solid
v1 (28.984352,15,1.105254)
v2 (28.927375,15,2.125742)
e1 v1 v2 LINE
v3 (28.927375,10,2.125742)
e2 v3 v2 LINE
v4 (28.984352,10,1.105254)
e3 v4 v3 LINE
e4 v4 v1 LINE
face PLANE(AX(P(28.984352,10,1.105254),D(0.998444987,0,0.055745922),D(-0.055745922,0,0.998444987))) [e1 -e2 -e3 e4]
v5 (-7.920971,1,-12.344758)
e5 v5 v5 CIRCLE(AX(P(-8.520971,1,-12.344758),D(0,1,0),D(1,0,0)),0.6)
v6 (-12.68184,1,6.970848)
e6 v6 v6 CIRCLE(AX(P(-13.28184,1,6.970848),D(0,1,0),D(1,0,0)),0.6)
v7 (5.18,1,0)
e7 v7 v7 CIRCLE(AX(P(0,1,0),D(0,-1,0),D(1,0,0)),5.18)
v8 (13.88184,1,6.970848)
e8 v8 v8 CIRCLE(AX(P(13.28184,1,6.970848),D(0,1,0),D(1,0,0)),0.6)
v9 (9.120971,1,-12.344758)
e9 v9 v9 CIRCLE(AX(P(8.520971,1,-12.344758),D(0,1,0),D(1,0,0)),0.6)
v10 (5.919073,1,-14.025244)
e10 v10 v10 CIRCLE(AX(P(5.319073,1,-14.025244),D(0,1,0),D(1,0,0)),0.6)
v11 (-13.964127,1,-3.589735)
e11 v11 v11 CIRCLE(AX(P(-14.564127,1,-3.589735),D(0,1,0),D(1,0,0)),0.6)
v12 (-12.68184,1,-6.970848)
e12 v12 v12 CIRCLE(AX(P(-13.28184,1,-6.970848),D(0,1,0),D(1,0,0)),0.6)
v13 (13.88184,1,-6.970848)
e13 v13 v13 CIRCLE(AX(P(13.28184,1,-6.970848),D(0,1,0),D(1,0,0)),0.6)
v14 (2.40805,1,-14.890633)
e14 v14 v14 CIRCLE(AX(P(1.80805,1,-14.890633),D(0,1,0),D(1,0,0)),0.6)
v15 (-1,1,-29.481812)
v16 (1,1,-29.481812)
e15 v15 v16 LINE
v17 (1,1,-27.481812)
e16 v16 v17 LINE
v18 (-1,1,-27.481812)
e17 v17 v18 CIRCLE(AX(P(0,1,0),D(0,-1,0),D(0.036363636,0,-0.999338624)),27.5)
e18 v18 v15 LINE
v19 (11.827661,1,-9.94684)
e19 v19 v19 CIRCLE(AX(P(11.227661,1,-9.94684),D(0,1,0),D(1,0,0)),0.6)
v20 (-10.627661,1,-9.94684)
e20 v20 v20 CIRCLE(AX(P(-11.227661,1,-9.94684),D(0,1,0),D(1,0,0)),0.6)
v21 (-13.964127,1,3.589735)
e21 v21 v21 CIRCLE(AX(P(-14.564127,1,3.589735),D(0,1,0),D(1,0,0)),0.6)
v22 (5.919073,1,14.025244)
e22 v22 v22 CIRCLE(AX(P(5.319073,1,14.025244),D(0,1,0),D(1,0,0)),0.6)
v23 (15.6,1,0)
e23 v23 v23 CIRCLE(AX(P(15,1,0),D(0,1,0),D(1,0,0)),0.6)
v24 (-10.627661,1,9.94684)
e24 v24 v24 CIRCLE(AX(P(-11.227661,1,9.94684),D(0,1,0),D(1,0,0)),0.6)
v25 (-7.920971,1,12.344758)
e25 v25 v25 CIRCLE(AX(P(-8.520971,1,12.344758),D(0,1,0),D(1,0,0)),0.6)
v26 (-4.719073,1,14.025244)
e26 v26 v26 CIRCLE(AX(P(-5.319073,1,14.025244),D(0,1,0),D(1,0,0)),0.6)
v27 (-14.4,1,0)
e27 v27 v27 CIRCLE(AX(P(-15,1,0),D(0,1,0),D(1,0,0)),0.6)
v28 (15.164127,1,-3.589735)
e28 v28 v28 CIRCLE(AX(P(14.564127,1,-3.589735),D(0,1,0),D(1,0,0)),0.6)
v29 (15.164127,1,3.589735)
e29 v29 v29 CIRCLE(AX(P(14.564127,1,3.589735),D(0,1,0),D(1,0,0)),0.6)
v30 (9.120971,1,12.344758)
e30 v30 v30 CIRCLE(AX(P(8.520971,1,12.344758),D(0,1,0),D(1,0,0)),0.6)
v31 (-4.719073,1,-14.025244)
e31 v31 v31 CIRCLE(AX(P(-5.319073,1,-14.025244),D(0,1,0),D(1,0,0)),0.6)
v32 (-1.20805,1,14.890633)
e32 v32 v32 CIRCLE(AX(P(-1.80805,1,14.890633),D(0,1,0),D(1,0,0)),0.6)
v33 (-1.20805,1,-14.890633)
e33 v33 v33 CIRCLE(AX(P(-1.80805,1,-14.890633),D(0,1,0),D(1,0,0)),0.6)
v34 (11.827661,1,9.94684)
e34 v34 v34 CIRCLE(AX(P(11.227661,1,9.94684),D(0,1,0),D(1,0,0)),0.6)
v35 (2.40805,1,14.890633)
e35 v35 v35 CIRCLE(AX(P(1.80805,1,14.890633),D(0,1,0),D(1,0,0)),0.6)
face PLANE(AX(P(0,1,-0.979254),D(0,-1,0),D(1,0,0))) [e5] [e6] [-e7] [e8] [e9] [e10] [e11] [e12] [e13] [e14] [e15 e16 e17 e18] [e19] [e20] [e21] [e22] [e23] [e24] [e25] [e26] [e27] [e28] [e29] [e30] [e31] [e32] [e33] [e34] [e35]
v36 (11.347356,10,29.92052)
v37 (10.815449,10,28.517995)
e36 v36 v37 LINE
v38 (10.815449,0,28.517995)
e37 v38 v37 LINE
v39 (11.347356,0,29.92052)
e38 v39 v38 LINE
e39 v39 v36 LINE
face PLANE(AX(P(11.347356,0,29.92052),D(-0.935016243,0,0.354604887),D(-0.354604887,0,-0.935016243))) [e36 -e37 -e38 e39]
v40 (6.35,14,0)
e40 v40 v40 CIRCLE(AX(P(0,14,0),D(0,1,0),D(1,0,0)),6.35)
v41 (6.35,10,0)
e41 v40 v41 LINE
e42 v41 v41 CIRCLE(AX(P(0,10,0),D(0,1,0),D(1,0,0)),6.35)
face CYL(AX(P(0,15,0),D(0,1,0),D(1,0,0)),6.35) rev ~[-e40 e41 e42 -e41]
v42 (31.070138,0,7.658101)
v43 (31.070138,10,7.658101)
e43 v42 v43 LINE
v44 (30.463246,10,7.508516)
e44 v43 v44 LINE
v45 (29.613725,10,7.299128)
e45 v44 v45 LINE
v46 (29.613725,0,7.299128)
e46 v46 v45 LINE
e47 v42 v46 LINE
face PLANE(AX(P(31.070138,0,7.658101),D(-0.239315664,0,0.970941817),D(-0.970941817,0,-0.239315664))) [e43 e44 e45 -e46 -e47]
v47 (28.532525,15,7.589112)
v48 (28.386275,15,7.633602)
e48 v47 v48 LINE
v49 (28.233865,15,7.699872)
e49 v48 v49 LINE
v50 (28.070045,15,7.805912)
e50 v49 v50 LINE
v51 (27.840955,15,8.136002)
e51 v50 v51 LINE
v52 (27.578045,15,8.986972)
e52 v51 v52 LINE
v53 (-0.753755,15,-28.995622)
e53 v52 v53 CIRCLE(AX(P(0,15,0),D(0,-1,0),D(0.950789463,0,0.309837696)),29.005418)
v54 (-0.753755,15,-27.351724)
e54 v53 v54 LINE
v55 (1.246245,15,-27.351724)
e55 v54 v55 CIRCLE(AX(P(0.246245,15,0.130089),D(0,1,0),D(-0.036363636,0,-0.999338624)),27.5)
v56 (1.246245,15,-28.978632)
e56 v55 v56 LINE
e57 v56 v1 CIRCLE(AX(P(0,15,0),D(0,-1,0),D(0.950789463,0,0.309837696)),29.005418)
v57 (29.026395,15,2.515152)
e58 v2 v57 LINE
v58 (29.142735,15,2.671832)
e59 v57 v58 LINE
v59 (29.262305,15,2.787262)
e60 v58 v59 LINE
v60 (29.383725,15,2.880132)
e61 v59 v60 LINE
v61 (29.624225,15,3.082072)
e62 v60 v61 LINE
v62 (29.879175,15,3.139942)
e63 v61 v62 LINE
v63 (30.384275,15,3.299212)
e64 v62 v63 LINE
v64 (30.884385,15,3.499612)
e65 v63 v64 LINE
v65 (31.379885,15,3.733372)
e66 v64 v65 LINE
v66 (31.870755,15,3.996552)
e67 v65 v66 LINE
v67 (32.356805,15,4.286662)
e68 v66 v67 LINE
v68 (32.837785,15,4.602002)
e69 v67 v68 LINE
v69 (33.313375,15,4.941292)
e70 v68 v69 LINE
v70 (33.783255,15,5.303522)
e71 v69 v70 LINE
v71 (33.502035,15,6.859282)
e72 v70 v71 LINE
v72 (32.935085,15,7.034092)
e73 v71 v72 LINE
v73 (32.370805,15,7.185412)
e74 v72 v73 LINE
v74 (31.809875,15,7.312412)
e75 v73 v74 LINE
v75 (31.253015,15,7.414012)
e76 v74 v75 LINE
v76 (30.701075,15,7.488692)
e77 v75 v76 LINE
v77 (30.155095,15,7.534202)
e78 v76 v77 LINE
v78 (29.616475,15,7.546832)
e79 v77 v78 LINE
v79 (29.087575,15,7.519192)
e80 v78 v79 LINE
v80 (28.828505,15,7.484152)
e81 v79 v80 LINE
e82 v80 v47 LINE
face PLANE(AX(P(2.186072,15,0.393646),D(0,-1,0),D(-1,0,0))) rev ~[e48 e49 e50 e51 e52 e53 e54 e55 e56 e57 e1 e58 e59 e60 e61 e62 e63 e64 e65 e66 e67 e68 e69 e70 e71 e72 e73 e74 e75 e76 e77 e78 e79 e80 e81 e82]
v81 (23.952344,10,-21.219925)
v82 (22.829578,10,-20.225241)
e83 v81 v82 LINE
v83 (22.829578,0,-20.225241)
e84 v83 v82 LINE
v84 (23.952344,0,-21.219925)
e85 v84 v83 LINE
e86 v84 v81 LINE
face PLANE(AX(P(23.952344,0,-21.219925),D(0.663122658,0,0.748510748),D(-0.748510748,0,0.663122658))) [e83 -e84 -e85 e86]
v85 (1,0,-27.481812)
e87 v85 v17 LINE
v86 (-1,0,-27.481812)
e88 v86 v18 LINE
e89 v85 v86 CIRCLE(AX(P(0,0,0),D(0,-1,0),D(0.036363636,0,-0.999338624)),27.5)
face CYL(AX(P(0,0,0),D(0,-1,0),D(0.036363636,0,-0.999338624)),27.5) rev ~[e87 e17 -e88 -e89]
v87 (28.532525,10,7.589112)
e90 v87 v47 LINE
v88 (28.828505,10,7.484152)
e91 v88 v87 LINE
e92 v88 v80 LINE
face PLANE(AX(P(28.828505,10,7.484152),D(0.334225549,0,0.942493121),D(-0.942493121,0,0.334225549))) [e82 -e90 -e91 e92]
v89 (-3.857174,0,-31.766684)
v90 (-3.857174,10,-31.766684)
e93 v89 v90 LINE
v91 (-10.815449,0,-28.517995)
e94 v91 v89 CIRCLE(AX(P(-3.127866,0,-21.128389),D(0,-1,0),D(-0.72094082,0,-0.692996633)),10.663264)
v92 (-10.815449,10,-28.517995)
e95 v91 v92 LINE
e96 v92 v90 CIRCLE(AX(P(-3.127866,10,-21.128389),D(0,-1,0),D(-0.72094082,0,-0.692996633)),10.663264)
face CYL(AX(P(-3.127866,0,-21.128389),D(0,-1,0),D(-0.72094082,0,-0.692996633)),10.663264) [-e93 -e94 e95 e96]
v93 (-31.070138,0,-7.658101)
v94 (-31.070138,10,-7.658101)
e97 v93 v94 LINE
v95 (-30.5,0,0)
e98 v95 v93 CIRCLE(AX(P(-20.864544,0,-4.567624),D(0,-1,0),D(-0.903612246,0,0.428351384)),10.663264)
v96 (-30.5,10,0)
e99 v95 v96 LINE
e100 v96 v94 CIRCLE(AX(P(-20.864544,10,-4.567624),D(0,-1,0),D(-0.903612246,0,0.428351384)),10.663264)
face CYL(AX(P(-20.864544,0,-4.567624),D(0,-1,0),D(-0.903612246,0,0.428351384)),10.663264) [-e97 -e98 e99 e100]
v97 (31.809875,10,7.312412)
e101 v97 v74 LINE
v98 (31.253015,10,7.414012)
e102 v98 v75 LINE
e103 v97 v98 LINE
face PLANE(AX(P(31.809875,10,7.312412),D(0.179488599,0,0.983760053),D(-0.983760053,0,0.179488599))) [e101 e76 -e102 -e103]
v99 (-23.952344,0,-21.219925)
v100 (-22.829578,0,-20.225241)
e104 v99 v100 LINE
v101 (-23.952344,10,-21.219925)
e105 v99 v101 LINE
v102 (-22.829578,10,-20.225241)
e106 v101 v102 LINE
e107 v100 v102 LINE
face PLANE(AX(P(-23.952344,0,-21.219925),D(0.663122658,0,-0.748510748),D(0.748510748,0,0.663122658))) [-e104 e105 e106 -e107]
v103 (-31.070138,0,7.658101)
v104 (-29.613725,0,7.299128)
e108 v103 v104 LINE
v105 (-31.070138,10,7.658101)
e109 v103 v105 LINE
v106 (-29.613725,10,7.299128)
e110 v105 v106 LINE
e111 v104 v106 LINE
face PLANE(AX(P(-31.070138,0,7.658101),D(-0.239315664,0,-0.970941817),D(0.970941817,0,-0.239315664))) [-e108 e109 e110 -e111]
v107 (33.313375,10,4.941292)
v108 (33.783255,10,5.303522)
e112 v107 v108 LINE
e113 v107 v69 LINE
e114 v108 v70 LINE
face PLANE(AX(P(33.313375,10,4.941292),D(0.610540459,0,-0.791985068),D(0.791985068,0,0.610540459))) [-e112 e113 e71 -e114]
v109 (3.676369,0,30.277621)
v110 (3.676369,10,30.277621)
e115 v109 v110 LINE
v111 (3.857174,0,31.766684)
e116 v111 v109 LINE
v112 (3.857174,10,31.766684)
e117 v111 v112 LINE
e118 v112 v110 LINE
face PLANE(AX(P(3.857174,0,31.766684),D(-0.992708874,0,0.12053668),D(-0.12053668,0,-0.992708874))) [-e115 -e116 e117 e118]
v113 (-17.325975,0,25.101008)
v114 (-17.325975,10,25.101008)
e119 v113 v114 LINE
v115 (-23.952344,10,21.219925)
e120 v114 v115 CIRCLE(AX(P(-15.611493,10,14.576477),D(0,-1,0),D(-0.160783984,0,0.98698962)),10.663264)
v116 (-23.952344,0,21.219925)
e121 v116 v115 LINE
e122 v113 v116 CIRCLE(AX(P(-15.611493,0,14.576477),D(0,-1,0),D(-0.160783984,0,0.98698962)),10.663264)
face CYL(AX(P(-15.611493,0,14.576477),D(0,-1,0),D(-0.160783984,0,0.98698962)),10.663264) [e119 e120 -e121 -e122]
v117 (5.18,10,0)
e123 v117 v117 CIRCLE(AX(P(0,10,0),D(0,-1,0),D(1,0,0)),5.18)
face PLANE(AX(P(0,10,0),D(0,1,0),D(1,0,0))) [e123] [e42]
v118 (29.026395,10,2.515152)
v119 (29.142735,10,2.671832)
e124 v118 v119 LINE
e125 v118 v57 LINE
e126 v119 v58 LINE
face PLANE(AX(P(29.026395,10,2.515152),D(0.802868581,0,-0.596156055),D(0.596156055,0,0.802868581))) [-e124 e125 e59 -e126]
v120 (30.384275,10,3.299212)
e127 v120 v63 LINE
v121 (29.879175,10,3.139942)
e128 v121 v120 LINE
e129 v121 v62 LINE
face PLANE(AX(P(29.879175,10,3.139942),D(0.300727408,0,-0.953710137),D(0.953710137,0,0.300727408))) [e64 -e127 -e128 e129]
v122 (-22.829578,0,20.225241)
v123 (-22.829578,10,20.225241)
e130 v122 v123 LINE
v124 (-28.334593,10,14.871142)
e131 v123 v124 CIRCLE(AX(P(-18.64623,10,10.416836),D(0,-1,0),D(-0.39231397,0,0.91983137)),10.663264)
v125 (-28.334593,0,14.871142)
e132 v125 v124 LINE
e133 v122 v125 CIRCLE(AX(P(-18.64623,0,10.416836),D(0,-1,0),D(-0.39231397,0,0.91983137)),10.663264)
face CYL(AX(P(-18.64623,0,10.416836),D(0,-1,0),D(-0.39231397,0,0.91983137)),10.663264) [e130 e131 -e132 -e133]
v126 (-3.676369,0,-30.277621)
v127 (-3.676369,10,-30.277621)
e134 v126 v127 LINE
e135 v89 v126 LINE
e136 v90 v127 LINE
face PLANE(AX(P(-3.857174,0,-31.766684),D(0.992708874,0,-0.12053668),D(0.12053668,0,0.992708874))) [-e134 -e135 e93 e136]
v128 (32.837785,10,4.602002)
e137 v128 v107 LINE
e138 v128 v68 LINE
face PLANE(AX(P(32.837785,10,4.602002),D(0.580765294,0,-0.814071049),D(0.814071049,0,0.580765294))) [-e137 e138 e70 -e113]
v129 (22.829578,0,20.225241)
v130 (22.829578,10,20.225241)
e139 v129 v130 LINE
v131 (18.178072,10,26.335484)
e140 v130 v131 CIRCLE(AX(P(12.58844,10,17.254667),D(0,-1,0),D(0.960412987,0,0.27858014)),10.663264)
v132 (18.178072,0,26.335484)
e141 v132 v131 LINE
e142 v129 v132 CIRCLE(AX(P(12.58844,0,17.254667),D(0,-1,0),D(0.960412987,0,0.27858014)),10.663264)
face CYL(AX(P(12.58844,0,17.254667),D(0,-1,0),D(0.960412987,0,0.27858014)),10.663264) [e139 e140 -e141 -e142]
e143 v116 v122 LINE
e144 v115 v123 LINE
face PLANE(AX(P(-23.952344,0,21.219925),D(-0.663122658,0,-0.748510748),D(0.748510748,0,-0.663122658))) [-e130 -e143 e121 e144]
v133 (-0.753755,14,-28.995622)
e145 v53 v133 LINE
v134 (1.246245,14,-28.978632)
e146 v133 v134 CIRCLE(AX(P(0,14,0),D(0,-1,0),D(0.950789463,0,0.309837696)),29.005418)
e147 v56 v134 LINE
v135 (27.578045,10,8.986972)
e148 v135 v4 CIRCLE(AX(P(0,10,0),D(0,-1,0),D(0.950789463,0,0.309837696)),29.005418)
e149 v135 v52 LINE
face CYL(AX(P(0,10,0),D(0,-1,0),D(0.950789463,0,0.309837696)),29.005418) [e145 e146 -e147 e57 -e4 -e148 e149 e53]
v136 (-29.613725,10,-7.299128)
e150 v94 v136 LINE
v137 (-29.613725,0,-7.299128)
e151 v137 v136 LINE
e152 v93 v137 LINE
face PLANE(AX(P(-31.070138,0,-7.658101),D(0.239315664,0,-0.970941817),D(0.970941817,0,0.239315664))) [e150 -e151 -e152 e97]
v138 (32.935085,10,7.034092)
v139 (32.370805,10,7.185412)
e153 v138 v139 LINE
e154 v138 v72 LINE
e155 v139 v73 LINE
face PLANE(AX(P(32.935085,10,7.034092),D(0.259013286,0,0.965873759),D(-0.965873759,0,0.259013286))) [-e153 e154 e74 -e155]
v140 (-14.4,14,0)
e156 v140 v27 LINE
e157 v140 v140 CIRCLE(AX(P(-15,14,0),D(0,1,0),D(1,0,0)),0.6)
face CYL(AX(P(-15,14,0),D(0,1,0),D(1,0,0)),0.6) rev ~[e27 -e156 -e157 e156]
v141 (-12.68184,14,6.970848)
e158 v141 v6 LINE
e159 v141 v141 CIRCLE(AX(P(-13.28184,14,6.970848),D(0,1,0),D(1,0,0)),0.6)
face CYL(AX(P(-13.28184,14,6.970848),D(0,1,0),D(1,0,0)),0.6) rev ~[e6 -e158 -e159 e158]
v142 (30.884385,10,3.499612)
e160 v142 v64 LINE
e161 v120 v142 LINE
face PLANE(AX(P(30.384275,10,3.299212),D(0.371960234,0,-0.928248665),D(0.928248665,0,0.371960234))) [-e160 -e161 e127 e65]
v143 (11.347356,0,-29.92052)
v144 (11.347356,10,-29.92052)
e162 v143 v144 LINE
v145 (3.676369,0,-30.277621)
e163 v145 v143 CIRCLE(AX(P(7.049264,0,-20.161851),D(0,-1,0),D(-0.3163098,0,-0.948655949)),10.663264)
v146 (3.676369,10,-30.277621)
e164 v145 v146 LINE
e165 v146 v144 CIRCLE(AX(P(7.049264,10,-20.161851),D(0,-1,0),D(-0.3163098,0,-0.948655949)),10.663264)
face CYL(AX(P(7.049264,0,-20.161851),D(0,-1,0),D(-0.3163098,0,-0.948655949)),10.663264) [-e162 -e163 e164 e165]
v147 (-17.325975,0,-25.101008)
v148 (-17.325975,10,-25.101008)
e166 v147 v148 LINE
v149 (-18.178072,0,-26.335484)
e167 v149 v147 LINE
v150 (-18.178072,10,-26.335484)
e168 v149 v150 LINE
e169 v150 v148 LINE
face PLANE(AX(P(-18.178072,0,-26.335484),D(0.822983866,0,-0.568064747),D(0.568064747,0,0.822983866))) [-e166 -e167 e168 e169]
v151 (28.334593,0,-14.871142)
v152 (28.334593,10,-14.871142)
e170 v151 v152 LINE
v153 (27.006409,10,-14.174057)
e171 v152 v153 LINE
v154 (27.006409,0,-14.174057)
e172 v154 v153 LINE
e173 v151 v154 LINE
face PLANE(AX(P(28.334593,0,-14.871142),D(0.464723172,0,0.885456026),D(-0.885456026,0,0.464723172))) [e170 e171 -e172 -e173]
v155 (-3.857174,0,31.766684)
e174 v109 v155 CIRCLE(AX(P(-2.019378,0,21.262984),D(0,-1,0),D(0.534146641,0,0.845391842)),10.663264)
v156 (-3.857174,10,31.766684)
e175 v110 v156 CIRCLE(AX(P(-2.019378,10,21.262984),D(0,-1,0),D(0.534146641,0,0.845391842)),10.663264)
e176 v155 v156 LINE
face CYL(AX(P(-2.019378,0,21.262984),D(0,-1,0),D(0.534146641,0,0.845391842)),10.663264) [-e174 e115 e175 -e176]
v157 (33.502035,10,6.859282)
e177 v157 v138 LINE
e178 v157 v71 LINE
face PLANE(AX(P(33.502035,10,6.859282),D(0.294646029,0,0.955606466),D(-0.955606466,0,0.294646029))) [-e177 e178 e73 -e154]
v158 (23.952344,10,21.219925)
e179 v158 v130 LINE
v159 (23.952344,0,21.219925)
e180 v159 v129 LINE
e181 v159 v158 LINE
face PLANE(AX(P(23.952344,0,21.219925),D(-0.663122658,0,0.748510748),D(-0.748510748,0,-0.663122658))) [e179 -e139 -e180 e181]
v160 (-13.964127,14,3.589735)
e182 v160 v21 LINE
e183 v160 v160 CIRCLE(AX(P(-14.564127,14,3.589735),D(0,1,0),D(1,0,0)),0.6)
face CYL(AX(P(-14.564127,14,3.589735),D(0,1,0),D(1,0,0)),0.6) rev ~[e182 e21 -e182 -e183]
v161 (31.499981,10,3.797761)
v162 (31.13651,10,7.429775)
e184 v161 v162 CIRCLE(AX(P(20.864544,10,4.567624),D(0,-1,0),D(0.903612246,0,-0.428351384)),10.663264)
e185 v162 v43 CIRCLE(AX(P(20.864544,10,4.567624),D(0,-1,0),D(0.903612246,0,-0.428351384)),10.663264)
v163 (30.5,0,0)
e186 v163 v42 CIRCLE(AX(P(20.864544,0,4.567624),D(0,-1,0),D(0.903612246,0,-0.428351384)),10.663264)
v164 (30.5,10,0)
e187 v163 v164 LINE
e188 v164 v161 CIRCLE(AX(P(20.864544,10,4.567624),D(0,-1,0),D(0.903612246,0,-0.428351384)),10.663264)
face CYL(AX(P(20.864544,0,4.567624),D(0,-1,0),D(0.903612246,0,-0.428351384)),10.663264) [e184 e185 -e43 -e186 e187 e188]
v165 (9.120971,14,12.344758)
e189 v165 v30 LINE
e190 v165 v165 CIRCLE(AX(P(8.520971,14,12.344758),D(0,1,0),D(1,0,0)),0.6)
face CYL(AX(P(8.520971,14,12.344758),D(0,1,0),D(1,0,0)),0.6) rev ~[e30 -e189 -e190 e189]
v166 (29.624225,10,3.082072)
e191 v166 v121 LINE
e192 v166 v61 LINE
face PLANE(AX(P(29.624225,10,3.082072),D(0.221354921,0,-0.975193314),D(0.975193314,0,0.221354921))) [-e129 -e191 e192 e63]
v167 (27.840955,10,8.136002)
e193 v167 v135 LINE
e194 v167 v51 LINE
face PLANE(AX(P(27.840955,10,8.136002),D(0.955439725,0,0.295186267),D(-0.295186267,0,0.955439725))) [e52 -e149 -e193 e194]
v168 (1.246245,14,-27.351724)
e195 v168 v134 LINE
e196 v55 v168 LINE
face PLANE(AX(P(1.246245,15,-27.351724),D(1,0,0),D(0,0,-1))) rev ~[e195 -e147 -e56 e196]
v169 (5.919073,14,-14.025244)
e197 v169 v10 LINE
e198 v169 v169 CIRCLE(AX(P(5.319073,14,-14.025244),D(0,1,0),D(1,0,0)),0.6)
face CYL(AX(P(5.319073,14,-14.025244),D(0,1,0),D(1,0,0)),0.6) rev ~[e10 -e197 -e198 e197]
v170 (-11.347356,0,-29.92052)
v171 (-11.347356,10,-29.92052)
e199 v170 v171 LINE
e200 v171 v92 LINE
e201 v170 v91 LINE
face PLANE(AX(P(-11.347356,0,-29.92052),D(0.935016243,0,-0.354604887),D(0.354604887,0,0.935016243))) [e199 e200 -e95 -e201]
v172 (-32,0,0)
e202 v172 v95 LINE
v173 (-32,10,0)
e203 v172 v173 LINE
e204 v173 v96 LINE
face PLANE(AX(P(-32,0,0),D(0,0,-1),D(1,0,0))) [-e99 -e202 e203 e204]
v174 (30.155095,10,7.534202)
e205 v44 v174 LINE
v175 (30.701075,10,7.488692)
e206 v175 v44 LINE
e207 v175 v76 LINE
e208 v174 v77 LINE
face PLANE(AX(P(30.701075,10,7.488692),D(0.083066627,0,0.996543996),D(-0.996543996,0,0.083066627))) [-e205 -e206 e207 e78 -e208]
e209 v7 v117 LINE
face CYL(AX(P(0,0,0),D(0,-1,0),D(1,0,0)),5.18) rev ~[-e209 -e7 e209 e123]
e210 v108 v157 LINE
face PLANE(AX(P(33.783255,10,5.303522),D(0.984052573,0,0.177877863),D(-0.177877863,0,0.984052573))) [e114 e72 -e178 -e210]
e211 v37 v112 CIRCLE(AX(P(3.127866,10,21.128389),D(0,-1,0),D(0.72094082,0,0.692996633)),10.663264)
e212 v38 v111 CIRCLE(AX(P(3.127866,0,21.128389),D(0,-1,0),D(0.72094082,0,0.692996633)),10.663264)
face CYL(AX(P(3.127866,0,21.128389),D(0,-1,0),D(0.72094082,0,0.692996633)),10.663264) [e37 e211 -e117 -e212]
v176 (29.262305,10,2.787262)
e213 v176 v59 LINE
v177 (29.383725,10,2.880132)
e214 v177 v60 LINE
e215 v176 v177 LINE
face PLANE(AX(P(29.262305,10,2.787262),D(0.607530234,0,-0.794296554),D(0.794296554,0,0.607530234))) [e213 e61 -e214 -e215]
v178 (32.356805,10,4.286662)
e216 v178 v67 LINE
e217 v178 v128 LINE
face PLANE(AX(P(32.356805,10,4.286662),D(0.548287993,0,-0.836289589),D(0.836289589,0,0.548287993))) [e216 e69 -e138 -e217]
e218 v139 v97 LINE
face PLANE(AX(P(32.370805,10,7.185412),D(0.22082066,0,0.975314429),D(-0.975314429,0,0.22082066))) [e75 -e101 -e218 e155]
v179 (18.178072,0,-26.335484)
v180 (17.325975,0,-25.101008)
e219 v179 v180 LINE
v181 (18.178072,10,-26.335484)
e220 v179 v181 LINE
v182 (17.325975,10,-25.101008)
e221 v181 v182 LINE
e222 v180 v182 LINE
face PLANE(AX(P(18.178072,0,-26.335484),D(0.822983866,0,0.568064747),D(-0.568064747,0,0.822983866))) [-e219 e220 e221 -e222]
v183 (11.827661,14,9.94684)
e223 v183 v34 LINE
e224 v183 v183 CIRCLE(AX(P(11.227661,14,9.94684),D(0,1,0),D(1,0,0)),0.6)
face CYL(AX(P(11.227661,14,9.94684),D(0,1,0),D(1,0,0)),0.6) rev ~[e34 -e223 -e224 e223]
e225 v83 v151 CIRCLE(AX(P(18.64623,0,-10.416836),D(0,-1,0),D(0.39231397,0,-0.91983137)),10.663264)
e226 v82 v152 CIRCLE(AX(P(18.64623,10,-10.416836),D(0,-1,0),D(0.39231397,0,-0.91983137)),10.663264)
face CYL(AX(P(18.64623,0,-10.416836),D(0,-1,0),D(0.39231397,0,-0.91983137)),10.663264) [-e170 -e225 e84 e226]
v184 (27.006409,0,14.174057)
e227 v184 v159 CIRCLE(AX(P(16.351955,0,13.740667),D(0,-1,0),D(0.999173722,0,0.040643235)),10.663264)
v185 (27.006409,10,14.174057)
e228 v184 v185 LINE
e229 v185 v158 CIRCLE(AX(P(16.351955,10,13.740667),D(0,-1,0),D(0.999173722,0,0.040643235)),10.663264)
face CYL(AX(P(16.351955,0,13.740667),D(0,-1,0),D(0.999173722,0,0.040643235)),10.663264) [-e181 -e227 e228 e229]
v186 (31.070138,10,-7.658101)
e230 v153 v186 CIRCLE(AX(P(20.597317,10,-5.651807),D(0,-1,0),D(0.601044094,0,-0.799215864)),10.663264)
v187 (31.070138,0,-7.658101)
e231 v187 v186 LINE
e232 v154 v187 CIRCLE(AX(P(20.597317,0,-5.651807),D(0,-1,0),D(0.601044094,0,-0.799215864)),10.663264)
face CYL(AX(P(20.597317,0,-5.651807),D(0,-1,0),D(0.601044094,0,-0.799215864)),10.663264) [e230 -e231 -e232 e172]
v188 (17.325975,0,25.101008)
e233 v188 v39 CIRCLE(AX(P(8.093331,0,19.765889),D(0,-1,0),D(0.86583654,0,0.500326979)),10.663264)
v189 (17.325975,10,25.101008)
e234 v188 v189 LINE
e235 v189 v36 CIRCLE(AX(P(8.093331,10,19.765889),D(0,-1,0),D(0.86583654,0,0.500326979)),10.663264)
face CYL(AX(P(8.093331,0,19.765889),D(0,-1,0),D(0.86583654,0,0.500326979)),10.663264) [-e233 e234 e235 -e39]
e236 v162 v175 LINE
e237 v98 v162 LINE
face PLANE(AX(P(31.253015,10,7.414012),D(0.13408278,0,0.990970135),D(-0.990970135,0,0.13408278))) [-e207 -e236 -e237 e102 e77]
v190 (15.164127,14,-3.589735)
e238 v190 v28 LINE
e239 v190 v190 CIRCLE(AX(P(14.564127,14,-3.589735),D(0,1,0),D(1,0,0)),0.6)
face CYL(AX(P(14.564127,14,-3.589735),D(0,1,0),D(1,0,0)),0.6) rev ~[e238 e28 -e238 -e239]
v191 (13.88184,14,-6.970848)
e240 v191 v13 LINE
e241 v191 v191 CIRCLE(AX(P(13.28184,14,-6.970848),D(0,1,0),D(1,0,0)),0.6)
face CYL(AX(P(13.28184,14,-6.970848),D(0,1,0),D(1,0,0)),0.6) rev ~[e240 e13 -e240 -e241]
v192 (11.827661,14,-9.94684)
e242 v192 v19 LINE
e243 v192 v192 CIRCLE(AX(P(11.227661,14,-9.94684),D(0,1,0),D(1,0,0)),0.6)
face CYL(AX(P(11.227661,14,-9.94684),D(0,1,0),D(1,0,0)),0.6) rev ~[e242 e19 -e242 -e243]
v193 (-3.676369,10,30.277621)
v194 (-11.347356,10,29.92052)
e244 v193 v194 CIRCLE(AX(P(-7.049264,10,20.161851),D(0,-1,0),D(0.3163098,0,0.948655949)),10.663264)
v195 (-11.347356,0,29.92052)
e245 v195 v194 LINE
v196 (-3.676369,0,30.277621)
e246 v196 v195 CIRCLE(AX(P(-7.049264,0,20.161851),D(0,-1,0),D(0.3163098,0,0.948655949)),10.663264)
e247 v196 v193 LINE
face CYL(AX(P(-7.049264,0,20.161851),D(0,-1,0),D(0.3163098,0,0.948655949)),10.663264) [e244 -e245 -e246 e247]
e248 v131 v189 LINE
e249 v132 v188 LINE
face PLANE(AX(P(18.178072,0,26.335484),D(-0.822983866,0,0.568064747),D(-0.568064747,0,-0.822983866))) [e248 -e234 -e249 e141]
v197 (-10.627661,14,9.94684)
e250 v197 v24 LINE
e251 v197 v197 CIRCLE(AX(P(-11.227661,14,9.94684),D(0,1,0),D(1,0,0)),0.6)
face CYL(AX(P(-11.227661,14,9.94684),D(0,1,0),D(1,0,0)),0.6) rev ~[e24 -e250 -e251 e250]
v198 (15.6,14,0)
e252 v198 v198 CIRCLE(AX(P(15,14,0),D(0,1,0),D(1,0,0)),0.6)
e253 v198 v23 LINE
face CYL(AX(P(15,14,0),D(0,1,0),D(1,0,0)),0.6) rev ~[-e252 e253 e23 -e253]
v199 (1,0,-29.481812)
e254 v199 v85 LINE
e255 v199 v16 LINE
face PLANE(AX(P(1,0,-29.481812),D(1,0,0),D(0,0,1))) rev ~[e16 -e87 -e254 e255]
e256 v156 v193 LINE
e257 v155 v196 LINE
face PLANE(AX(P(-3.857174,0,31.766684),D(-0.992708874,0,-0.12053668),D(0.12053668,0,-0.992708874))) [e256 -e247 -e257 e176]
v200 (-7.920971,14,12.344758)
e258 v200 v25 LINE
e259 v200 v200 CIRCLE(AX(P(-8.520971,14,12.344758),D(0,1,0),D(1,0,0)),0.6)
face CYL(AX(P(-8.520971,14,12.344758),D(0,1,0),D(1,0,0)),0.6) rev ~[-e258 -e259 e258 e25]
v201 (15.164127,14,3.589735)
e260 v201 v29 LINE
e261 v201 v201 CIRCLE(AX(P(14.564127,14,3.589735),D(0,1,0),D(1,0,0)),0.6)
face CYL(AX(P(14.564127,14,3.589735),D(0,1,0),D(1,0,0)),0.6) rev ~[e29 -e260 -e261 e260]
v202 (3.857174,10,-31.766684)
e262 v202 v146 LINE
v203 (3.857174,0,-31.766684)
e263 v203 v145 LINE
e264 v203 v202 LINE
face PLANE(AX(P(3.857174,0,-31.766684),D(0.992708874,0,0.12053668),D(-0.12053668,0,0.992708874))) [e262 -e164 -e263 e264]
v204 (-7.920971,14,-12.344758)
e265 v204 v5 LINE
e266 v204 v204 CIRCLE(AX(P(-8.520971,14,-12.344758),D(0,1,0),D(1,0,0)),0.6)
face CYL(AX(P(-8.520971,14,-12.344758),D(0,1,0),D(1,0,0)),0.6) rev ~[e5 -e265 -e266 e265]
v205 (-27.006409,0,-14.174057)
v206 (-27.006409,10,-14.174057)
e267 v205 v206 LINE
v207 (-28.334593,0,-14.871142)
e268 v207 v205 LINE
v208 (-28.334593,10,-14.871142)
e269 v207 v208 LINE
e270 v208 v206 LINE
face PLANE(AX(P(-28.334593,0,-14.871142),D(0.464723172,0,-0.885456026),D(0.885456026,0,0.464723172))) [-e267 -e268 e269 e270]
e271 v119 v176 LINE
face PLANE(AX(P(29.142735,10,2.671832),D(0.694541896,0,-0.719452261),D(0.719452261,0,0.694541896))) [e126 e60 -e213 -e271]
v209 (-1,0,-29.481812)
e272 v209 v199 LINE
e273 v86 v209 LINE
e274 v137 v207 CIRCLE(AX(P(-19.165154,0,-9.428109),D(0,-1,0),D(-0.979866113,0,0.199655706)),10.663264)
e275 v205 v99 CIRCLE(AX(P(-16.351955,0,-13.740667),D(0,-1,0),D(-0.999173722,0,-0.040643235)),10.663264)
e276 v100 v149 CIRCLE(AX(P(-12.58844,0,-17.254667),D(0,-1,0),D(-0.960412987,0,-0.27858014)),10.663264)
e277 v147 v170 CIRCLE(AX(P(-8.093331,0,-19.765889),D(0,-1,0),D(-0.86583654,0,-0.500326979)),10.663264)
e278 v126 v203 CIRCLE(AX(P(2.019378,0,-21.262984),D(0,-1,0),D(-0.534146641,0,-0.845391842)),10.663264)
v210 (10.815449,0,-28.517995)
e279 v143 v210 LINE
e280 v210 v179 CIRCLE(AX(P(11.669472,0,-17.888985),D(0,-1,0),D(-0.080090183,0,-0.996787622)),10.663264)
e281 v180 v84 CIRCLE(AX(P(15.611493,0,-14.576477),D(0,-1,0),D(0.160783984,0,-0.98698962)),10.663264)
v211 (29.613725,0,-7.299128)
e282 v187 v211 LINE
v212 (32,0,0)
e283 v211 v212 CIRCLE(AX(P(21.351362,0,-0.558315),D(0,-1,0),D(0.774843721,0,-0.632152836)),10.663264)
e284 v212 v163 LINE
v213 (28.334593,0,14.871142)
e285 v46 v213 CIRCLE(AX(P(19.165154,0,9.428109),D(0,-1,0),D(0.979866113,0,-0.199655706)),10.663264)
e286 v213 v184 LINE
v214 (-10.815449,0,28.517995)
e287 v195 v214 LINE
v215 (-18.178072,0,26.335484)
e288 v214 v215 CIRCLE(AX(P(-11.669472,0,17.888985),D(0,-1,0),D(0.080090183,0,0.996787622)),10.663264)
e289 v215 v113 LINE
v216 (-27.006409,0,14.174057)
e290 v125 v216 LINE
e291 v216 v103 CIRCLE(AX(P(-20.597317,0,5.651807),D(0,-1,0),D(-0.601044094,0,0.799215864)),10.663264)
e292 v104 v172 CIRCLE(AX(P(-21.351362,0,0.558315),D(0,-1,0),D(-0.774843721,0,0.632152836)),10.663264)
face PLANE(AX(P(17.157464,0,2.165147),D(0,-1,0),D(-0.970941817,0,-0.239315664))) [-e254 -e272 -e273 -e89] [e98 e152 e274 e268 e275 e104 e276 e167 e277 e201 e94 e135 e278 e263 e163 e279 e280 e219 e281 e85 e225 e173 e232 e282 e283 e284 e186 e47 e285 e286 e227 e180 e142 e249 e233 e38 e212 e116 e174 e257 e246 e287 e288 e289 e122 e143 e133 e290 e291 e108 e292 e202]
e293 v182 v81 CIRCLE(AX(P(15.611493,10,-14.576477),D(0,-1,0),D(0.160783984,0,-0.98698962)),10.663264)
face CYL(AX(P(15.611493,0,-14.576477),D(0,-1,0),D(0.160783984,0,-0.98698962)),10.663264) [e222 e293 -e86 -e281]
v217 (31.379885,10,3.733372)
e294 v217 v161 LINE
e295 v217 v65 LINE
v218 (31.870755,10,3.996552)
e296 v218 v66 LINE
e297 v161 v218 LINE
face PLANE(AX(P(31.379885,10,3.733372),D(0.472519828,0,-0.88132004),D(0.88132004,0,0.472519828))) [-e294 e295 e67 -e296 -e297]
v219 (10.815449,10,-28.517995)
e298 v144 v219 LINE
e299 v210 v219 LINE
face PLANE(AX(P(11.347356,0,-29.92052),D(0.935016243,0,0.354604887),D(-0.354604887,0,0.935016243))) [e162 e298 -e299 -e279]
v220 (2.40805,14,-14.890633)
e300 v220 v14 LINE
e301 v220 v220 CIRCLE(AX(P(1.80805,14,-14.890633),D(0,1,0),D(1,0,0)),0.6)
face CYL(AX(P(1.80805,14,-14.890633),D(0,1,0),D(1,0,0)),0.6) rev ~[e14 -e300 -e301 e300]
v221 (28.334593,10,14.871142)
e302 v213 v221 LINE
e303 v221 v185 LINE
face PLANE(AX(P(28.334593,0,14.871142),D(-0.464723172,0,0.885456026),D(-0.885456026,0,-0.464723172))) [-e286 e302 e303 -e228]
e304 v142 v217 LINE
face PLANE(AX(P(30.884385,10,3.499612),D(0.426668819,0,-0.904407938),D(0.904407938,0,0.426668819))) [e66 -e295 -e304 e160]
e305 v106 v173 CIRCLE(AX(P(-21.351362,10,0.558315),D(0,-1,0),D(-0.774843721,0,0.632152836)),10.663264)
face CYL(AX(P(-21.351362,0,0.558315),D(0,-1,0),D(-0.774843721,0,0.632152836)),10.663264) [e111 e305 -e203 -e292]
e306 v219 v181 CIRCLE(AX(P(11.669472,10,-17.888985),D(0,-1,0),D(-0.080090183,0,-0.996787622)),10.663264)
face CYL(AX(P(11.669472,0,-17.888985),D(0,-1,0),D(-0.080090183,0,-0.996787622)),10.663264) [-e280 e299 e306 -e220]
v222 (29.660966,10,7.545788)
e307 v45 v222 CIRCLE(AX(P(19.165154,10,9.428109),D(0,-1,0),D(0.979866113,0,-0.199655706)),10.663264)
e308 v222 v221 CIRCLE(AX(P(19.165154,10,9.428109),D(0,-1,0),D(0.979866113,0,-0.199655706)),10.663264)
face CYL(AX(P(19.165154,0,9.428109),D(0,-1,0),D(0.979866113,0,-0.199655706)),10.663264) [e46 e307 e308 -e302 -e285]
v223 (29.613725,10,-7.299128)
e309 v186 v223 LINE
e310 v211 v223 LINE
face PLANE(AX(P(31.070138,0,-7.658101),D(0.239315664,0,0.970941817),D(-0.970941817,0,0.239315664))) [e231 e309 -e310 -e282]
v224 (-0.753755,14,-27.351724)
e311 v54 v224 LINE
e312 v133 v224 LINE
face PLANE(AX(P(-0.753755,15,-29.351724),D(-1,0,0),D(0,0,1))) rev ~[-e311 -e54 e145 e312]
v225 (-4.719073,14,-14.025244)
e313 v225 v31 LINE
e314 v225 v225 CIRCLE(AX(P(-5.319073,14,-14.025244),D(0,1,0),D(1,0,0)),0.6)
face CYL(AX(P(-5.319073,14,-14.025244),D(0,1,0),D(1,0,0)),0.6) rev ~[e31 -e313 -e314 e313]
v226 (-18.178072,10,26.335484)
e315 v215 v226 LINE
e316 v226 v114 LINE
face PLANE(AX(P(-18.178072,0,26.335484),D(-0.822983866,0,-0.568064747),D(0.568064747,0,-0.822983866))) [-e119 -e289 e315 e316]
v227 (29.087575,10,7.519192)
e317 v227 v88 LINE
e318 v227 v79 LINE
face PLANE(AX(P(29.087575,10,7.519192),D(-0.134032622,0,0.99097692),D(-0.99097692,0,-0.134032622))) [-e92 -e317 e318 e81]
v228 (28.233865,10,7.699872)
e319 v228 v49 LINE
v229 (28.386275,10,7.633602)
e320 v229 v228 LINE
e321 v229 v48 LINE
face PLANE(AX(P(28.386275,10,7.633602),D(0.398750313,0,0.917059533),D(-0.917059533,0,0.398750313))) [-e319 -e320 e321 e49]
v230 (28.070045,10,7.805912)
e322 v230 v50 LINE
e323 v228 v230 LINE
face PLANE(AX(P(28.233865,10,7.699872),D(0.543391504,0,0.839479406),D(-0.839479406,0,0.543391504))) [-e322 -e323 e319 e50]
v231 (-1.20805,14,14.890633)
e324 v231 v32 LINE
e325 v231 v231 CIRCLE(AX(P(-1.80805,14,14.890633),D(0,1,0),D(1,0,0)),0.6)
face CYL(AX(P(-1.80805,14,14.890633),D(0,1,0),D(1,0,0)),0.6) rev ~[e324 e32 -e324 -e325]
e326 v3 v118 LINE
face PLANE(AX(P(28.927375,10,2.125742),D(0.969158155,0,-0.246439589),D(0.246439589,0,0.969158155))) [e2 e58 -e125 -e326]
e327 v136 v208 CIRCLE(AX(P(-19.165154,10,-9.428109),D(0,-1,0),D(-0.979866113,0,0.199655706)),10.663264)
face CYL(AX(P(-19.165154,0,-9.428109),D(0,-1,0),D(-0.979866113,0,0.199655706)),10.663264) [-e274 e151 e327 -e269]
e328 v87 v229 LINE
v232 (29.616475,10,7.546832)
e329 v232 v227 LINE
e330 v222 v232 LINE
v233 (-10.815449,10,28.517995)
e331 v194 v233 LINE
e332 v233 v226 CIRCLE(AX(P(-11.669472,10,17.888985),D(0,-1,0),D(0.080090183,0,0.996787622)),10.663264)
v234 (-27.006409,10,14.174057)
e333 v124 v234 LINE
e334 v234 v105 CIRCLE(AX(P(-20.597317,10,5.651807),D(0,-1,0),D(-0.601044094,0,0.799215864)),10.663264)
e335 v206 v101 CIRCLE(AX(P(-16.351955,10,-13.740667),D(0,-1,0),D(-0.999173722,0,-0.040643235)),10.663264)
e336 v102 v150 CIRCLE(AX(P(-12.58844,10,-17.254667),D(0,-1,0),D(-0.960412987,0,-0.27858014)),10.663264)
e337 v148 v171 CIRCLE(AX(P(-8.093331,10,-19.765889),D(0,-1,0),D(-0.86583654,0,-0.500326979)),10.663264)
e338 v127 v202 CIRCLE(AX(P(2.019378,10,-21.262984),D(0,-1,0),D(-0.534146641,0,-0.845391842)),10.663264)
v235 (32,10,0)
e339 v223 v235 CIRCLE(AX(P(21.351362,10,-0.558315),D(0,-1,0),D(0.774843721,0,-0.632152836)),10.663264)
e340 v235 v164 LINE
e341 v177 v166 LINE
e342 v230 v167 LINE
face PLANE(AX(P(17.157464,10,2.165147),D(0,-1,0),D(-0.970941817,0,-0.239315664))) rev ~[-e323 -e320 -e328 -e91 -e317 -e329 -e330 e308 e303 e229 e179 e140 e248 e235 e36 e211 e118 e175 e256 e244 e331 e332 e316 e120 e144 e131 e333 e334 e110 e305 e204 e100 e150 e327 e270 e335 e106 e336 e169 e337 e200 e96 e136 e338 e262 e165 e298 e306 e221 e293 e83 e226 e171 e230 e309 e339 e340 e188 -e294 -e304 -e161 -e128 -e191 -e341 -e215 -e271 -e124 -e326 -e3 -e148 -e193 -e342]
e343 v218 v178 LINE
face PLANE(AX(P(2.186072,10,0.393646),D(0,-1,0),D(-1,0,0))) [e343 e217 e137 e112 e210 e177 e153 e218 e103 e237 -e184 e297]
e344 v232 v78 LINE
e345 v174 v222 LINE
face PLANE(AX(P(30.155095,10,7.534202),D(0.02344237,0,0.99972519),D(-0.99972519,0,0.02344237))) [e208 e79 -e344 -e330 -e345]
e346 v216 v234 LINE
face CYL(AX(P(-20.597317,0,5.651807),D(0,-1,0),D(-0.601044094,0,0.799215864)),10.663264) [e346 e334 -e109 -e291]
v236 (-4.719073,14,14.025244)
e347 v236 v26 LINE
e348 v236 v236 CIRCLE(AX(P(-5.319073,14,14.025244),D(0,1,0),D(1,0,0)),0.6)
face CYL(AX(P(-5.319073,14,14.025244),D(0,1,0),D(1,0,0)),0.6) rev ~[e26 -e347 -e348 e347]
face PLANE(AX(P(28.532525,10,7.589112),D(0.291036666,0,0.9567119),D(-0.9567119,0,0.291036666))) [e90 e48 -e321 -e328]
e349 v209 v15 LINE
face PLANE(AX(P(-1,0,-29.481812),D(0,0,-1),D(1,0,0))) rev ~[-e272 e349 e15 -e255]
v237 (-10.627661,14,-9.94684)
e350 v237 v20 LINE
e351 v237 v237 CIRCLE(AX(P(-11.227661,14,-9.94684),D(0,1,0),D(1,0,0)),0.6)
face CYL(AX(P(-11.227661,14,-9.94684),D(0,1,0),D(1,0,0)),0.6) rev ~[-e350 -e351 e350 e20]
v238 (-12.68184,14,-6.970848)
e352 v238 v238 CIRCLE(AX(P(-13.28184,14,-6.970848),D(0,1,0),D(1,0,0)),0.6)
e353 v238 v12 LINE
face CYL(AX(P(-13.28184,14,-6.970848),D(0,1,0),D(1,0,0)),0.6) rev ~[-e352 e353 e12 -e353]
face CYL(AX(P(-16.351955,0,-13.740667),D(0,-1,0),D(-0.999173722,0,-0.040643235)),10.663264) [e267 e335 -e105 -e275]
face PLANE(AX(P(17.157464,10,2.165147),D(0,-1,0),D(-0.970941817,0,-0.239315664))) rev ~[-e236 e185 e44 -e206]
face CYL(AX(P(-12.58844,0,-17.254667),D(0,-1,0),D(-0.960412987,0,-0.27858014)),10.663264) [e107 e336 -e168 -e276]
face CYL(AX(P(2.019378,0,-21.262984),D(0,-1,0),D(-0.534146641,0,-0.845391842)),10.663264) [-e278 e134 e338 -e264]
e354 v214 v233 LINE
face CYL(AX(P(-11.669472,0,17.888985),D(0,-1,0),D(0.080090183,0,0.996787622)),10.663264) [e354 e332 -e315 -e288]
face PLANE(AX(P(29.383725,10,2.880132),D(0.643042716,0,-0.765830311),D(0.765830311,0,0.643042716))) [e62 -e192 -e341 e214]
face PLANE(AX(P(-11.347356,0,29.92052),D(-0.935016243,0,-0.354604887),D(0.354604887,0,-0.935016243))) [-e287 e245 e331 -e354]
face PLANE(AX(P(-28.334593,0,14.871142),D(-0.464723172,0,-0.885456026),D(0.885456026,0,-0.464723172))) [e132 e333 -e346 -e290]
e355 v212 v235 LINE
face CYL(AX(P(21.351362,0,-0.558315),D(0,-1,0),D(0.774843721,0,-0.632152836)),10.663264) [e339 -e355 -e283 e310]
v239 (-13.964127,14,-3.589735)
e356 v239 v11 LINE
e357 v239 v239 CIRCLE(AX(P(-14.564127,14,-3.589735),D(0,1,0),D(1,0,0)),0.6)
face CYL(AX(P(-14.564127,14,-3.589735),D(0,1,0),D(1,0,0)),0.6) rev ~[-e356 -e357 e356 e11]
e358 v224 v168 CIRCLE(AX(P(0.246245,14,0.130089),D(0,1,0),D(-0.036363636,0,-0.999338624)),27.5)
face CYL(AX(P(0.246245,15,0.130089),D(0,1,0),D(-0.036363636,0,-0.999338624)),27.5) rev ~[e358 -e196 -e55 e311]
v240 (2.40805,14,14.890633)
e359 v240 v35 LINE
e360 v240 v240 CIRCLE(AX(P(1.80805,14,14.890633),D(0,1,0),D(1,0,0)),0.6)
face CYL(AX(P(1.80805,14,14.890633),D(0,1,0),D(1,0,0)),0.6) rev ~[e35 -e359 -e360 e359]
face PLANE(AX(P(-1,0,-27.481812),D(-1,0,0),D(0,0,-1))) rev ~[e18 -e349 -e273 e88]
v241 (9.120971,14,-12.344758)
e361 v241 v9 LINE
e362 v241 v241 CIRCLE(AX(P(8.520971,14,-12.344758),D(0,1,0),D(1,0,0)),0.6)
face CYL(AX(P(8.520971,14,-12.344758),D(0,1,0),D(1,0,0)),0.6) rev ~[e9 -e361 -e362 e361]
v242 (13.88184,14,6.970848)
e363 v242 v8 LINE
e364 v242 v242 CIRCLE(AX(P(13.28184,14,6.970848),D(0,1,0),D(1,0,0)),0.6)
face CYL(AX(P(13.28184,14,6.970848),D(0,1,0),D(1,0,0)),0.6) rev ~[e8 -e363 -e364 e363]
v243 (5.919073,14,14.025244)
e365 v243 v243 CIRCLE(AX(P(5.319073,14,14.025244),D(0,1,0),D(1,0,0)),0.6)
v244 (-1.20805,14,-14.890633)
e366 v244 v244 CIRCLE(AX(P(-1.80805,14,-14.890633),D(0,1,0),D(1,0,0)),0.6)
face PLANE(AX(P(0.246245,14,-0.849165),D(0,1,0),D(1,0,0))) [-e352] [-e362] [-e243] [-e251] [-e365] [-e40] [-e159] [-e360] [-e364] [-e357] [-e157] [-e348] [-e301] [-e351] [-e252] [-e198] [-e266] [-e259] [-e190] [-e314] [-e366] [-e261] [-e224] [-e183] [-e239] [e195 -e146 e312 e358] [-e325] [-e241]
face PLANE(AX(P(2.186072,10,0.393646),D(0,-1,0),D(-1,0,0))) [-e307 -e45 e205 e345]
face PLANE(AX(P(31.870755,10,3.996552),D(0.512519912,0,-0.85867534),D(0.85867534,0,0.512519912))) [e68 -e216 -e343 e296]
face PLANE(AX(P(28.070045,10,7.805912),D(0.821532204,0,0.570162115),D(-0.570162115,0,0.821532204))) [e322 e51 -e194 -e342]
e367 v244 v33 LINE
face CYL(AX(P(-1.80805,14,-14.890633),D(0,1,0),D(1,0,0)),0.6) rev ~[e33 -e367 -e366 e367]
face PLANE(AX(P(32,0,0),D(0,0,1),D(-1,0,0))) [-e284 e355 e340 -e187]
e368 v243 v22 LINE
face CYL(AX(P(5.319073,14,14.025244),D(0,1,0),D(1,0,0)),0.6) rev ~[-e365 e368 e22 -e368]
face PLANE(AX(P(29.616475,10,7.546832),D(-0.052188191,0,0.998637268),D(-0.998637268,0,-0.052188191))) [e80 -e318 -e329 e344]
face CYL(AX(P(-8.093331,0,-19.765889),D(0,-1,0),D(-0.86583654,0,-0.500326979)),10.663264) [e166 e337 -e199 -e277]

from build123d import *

# Parameters (mm, degrees)
EXTRUDE_RATCHET_EDGE_DEPTH      = 10
PATTERN_EDGE_TO_FORM_GEAR_COUNT = 26
GEAR_FACE_DEPTH                 = 5
PCB_INSET_DEPTH                 = 1
SKETCH7_R                       = 6.35
CUT_BEARING_HOLE_DEPTH          = 5
PCB_INSET_REAR_DEPTH            = 1
PIN_HOLES_R                     = 0.6
PIN_HOLES_CUT_DEPTH             = 15
SKETCH15_R                      = 5.18
CUT_EXTRUDE3_DEPTH              = 16


with BuildPart() as part:
    # Sketch1 → Extrude ratchet edge (new body)
    with BuildSketch(Plane(origin=(0, 0, 0), x_dir=(1, 0, 0), z_dir=(0, 1, 0))):
        with BuildLine():
            Line((0, 0), (29.613725431, 7.299127761))
            ThreePointArc((29.613725431, 7.299127761), (31.486736206, 3.871832194), (32, 0))
            Line((32, 0), (0, 0))
        make_face()
    extrude_ratchet_edge = extrude(amount=EXTRUDE_RATCHET_EDGE_DEPTH)

    # Pattern edge to form gear: Extrude ratchet edge ×26 about axis
    pattern_edge_to_form_gear_axis = Axis((0, 0, 0), (0, 1, 0))
    for i in range(1, PATTERN_EDGE_TO_FORM_GEAR_COUNT):
        add(extrude_ratchet_edge.rotate(pattern_edge_to_form_gear_axis, i * 360 / PATTERN_EDGE_TO_FORM_GEAR_COUNT))

    # Sketch12 → Gear face (add)
    with BuildSketch(Plane(origin=(0, 10, 0), x_dir=(1, 0, 0), z_dir=(0, 1, 0))):
        with BuildLine():
            Line((28.927375325, -2.125741727), (29.026395325, -2.515151727))
            Line((29.026395325, -2.515151727), (29.142735325, -2.671831727))
            Line((29.142735325, -2.671831727), (29.262305325, -2.787261727))
            Line((29.262305325, -2.787261727), (29.383725325, -2.880131727))
            Line((29.383725325, -2.880131727), (29.624225325, -3.082071727))
            Line((29.624225325, -3.082071727), (29.879175325, -3.139941727))
            Line((29.879175325, -3.139941727), (30.384275325, -3.299211727))
            Line((30.384275325, -3.299211727), (30.884385325, -3.499611727))
            Line((30.884385325, -3.499611727), (31.379885325, -3.733371727))
            Line((31.379885325, -3.733371727), (31.870755325, -3.996551727))
            Line((31.870755325, -3.996551727), (32.356805325, -4.286661727))
            Line((32.356805325, -4.286661727), (32.837785325, -4.602001727))
            Line((32.837785325, -4.602001727), (33.313375325, -4.941291727))
            Line((33.313375325, -4.941291727), (33.783255325, -5.303521727))
            Line((33.783255325, -5.303521727), (33.502035325, -6.859281727))
            Line((33.502035325, -6.859281727), (32.935085325, -7.034091727))
            Line((32.935085325, -7.034091727), (32.370805325, -7.185411727))
            Line((32.370805325, -7.185411727), (31.809875325, -7.312411727))
            Line((31.809875325, -7.312411727), (31.253015325, -7.414011727))
            Line((31.253015325, -7.414011727), (30.701075325, -7.488691727))
            Line((30.701075325, -7.488691727), (30.155095325, -7.534201727))
            Line((30.155095325, -7.534201727), (29.616475325, -7.546831727))
            Line((29.616475325, -7.546831727), (29.087575325, -7.519191727))
            Line((29.087575325, -7.519191727), (28.828505325, -7.484151727))
            Line((28.828505325, -7.484151727), (28.532525325, -7.589111727))
            Line((28.532525325, -7.589111727), (28.386275325, -7.633601727))
            Line((28.386275325, -7.633601727), (28.233865325, -7.699871727))
            Line((28.233865325, -7.699871727), (28.070045325, -7.805911727))
            Line((28.070045325, -7.805911727), (27.840955325, -8.136001727))
            Line((27.840955325, -8.136001727), (27.578045325, -8.986971727))
            ThreePointArc((27.578045325, -8.986971727), (-28.554449146, 5.09486788), (28.984351964, -1.105253821))
            Line((28.984351964, -1.105253821), (28.927375325, -2.125741727))
        make_face()
    extrude(amount=GEAR_FACE_DEPTH)

    # Sketch10 → PCB inset (cut)
    with BuildSketch(Plane(origin=(0, 15, 0), x_dir=(1, 0, 0), z_dir=(0, 1, 0))):
        with BuildLine():
            Line((-0.753755436, 29.351723584), (-0.753755436, 27.351723584))
            ThreePointArc((-0.753755436, 27.351723584), (0.246244564, -27.630088583), (1.246244564, 27.351723584))
            Line((1.246244564, 27.351723584), (1.246244564, 29.351723584))
            Line((1.246244564, 29.351723584), (-0.753755436, 29.351723584))
        make_face()
    extrude(amount=-PCB_INSET_DEPTH, mode=Mode.SUBTRACT)

    # Sketch7 → Cut bearing hole (cut)
    with BuildSketch(Plane(origin=(0, 15, 0), x_dir=(1, 0, 0), z_dir=(0, 1, 0))):
        Circle(SKETCH7_R)
    extrude(amount=-CUT_BEARING_HOLE_DEPTH, mode=Mode.SUBTRACT)

    # Sketch11 → PCB inset rear (cut)
    with BuildSketch(Plane.XZ):
        with BuildLine():
            Line((1, -29.481812167), (1, -27.481812167))
            ThreePointArc((1, -27.481812167), (0, 27.5), (-1, -27.481812167))
            Line((-1, -27.481812167), (-1, -29.481812167))
            Line((-1, -29.481812167), (1, -29.481812167))
        make_face()
    extrude(amount=-PCB_INSET_REAR_DEPTH, mode=Mode.SUBTRACT)

    # pin holes → Pin holes cut (cut, through all)
    with BuildSketch(Plane(origin=(0, 14, 0), x_dir=(1, 0, 0), z_dir=(0, 1, 0))):
        with Locations((15, 0)):
            Circle(PIN_HOLES_R)
        with Locations((14.564127261, -3.589734964)):
            Circle(PIN_HOLES_R)
        with Locations((13.281840385, -6.970847581)):
            Circle(PIN_HOLES_R)
        with Locations((11.227661223, -9.946839874)):
            Circle(PIN_HOLES_R)
        with Locations((8.520971201, -12.344757988)):
            Circle(PIN_HOLES_R)
        with Locations((5.319073306, -14.02524364)):
            Circle(PIN_HOLES_R)
        with Locations((1.808050204, -14.890633111)):
            Circle(PIN_HOLES_R)
        with Locations((-1.808050204, -14.890633111)):
            Circle(PIN_HOLES_R)
        with Locations((-5.319073306, -14.02524364)):
            Circle(PIN_HOLES_R)
        with Locations((-8.520971201, -12.344757988)):
            Circle(PIN_HOLES_R)
        with Locations((-11.227661223, -9.946839874)):
            Circle(PIN_HOLES_R)
        with Locations((-13.281840385, -6.970847581)):
            Circle(PIN_HOLES_R)
        with Locations((-14.564127261, -3.589734964)):
            Circle(PIN_HOLES_R)
        with Locations((-15, 0)):
            Circle(PIN_HOLES_R)
        with Locations((-14.564127261, 3.589734964)):
            Circle(PIN_HOLES_R)
        with Locations((-13.281840385, 6.970847581)):
            Circle(PIN_HOLES_R)
        with Locations((-11.227661223, 9.946839874)):
            Circle(PIN_HOLES_R)
        with Locations((-8.520971201, 12.344757988)):
            Circle(PIN_HOLES_R)
        with Locations((-5.319073306, 14.02524364)):
            Circle(PIN_HOLES_R)
        with Locations((-1.808050204, 14.890633111)):
            Circle(PIN_HOLES_R)
        with Locations((1.808050204, 14.890633111)):
            Circle(PIN_HOLES_R)
        with Locations((5.319073306, 14.02524364)):
            Circle(PIN_HOLES_R)
        with Locations((8.520971201, 12.344757988)):
            Circle(PIN_HOLES_R)
        with Locations((11.227661223, 9.946839874)):
            Circle(PIN_HOLES_R)
        with Locations((13.281840385, 6.970847581)):
            Circle(PIN_HOLES_R)
        with Locations((14.564127261, 3.589734964)):
            Circle(PIN_HOLES_R)
    extrude(amount=-PIN_HOLES_CUT_DEPTH, mode=Mode.SUBTRACT)

    # Sketch15 → Cut-Extrude3 (cut, through all)
    with BuildSketch(Plane.XZ):
        Circle(SKETCH15_R)
    extrude(amount=-CUT_EXTRUDE3_DEPTH, mode=Mode.SUBTRACT)


solid = part.part
